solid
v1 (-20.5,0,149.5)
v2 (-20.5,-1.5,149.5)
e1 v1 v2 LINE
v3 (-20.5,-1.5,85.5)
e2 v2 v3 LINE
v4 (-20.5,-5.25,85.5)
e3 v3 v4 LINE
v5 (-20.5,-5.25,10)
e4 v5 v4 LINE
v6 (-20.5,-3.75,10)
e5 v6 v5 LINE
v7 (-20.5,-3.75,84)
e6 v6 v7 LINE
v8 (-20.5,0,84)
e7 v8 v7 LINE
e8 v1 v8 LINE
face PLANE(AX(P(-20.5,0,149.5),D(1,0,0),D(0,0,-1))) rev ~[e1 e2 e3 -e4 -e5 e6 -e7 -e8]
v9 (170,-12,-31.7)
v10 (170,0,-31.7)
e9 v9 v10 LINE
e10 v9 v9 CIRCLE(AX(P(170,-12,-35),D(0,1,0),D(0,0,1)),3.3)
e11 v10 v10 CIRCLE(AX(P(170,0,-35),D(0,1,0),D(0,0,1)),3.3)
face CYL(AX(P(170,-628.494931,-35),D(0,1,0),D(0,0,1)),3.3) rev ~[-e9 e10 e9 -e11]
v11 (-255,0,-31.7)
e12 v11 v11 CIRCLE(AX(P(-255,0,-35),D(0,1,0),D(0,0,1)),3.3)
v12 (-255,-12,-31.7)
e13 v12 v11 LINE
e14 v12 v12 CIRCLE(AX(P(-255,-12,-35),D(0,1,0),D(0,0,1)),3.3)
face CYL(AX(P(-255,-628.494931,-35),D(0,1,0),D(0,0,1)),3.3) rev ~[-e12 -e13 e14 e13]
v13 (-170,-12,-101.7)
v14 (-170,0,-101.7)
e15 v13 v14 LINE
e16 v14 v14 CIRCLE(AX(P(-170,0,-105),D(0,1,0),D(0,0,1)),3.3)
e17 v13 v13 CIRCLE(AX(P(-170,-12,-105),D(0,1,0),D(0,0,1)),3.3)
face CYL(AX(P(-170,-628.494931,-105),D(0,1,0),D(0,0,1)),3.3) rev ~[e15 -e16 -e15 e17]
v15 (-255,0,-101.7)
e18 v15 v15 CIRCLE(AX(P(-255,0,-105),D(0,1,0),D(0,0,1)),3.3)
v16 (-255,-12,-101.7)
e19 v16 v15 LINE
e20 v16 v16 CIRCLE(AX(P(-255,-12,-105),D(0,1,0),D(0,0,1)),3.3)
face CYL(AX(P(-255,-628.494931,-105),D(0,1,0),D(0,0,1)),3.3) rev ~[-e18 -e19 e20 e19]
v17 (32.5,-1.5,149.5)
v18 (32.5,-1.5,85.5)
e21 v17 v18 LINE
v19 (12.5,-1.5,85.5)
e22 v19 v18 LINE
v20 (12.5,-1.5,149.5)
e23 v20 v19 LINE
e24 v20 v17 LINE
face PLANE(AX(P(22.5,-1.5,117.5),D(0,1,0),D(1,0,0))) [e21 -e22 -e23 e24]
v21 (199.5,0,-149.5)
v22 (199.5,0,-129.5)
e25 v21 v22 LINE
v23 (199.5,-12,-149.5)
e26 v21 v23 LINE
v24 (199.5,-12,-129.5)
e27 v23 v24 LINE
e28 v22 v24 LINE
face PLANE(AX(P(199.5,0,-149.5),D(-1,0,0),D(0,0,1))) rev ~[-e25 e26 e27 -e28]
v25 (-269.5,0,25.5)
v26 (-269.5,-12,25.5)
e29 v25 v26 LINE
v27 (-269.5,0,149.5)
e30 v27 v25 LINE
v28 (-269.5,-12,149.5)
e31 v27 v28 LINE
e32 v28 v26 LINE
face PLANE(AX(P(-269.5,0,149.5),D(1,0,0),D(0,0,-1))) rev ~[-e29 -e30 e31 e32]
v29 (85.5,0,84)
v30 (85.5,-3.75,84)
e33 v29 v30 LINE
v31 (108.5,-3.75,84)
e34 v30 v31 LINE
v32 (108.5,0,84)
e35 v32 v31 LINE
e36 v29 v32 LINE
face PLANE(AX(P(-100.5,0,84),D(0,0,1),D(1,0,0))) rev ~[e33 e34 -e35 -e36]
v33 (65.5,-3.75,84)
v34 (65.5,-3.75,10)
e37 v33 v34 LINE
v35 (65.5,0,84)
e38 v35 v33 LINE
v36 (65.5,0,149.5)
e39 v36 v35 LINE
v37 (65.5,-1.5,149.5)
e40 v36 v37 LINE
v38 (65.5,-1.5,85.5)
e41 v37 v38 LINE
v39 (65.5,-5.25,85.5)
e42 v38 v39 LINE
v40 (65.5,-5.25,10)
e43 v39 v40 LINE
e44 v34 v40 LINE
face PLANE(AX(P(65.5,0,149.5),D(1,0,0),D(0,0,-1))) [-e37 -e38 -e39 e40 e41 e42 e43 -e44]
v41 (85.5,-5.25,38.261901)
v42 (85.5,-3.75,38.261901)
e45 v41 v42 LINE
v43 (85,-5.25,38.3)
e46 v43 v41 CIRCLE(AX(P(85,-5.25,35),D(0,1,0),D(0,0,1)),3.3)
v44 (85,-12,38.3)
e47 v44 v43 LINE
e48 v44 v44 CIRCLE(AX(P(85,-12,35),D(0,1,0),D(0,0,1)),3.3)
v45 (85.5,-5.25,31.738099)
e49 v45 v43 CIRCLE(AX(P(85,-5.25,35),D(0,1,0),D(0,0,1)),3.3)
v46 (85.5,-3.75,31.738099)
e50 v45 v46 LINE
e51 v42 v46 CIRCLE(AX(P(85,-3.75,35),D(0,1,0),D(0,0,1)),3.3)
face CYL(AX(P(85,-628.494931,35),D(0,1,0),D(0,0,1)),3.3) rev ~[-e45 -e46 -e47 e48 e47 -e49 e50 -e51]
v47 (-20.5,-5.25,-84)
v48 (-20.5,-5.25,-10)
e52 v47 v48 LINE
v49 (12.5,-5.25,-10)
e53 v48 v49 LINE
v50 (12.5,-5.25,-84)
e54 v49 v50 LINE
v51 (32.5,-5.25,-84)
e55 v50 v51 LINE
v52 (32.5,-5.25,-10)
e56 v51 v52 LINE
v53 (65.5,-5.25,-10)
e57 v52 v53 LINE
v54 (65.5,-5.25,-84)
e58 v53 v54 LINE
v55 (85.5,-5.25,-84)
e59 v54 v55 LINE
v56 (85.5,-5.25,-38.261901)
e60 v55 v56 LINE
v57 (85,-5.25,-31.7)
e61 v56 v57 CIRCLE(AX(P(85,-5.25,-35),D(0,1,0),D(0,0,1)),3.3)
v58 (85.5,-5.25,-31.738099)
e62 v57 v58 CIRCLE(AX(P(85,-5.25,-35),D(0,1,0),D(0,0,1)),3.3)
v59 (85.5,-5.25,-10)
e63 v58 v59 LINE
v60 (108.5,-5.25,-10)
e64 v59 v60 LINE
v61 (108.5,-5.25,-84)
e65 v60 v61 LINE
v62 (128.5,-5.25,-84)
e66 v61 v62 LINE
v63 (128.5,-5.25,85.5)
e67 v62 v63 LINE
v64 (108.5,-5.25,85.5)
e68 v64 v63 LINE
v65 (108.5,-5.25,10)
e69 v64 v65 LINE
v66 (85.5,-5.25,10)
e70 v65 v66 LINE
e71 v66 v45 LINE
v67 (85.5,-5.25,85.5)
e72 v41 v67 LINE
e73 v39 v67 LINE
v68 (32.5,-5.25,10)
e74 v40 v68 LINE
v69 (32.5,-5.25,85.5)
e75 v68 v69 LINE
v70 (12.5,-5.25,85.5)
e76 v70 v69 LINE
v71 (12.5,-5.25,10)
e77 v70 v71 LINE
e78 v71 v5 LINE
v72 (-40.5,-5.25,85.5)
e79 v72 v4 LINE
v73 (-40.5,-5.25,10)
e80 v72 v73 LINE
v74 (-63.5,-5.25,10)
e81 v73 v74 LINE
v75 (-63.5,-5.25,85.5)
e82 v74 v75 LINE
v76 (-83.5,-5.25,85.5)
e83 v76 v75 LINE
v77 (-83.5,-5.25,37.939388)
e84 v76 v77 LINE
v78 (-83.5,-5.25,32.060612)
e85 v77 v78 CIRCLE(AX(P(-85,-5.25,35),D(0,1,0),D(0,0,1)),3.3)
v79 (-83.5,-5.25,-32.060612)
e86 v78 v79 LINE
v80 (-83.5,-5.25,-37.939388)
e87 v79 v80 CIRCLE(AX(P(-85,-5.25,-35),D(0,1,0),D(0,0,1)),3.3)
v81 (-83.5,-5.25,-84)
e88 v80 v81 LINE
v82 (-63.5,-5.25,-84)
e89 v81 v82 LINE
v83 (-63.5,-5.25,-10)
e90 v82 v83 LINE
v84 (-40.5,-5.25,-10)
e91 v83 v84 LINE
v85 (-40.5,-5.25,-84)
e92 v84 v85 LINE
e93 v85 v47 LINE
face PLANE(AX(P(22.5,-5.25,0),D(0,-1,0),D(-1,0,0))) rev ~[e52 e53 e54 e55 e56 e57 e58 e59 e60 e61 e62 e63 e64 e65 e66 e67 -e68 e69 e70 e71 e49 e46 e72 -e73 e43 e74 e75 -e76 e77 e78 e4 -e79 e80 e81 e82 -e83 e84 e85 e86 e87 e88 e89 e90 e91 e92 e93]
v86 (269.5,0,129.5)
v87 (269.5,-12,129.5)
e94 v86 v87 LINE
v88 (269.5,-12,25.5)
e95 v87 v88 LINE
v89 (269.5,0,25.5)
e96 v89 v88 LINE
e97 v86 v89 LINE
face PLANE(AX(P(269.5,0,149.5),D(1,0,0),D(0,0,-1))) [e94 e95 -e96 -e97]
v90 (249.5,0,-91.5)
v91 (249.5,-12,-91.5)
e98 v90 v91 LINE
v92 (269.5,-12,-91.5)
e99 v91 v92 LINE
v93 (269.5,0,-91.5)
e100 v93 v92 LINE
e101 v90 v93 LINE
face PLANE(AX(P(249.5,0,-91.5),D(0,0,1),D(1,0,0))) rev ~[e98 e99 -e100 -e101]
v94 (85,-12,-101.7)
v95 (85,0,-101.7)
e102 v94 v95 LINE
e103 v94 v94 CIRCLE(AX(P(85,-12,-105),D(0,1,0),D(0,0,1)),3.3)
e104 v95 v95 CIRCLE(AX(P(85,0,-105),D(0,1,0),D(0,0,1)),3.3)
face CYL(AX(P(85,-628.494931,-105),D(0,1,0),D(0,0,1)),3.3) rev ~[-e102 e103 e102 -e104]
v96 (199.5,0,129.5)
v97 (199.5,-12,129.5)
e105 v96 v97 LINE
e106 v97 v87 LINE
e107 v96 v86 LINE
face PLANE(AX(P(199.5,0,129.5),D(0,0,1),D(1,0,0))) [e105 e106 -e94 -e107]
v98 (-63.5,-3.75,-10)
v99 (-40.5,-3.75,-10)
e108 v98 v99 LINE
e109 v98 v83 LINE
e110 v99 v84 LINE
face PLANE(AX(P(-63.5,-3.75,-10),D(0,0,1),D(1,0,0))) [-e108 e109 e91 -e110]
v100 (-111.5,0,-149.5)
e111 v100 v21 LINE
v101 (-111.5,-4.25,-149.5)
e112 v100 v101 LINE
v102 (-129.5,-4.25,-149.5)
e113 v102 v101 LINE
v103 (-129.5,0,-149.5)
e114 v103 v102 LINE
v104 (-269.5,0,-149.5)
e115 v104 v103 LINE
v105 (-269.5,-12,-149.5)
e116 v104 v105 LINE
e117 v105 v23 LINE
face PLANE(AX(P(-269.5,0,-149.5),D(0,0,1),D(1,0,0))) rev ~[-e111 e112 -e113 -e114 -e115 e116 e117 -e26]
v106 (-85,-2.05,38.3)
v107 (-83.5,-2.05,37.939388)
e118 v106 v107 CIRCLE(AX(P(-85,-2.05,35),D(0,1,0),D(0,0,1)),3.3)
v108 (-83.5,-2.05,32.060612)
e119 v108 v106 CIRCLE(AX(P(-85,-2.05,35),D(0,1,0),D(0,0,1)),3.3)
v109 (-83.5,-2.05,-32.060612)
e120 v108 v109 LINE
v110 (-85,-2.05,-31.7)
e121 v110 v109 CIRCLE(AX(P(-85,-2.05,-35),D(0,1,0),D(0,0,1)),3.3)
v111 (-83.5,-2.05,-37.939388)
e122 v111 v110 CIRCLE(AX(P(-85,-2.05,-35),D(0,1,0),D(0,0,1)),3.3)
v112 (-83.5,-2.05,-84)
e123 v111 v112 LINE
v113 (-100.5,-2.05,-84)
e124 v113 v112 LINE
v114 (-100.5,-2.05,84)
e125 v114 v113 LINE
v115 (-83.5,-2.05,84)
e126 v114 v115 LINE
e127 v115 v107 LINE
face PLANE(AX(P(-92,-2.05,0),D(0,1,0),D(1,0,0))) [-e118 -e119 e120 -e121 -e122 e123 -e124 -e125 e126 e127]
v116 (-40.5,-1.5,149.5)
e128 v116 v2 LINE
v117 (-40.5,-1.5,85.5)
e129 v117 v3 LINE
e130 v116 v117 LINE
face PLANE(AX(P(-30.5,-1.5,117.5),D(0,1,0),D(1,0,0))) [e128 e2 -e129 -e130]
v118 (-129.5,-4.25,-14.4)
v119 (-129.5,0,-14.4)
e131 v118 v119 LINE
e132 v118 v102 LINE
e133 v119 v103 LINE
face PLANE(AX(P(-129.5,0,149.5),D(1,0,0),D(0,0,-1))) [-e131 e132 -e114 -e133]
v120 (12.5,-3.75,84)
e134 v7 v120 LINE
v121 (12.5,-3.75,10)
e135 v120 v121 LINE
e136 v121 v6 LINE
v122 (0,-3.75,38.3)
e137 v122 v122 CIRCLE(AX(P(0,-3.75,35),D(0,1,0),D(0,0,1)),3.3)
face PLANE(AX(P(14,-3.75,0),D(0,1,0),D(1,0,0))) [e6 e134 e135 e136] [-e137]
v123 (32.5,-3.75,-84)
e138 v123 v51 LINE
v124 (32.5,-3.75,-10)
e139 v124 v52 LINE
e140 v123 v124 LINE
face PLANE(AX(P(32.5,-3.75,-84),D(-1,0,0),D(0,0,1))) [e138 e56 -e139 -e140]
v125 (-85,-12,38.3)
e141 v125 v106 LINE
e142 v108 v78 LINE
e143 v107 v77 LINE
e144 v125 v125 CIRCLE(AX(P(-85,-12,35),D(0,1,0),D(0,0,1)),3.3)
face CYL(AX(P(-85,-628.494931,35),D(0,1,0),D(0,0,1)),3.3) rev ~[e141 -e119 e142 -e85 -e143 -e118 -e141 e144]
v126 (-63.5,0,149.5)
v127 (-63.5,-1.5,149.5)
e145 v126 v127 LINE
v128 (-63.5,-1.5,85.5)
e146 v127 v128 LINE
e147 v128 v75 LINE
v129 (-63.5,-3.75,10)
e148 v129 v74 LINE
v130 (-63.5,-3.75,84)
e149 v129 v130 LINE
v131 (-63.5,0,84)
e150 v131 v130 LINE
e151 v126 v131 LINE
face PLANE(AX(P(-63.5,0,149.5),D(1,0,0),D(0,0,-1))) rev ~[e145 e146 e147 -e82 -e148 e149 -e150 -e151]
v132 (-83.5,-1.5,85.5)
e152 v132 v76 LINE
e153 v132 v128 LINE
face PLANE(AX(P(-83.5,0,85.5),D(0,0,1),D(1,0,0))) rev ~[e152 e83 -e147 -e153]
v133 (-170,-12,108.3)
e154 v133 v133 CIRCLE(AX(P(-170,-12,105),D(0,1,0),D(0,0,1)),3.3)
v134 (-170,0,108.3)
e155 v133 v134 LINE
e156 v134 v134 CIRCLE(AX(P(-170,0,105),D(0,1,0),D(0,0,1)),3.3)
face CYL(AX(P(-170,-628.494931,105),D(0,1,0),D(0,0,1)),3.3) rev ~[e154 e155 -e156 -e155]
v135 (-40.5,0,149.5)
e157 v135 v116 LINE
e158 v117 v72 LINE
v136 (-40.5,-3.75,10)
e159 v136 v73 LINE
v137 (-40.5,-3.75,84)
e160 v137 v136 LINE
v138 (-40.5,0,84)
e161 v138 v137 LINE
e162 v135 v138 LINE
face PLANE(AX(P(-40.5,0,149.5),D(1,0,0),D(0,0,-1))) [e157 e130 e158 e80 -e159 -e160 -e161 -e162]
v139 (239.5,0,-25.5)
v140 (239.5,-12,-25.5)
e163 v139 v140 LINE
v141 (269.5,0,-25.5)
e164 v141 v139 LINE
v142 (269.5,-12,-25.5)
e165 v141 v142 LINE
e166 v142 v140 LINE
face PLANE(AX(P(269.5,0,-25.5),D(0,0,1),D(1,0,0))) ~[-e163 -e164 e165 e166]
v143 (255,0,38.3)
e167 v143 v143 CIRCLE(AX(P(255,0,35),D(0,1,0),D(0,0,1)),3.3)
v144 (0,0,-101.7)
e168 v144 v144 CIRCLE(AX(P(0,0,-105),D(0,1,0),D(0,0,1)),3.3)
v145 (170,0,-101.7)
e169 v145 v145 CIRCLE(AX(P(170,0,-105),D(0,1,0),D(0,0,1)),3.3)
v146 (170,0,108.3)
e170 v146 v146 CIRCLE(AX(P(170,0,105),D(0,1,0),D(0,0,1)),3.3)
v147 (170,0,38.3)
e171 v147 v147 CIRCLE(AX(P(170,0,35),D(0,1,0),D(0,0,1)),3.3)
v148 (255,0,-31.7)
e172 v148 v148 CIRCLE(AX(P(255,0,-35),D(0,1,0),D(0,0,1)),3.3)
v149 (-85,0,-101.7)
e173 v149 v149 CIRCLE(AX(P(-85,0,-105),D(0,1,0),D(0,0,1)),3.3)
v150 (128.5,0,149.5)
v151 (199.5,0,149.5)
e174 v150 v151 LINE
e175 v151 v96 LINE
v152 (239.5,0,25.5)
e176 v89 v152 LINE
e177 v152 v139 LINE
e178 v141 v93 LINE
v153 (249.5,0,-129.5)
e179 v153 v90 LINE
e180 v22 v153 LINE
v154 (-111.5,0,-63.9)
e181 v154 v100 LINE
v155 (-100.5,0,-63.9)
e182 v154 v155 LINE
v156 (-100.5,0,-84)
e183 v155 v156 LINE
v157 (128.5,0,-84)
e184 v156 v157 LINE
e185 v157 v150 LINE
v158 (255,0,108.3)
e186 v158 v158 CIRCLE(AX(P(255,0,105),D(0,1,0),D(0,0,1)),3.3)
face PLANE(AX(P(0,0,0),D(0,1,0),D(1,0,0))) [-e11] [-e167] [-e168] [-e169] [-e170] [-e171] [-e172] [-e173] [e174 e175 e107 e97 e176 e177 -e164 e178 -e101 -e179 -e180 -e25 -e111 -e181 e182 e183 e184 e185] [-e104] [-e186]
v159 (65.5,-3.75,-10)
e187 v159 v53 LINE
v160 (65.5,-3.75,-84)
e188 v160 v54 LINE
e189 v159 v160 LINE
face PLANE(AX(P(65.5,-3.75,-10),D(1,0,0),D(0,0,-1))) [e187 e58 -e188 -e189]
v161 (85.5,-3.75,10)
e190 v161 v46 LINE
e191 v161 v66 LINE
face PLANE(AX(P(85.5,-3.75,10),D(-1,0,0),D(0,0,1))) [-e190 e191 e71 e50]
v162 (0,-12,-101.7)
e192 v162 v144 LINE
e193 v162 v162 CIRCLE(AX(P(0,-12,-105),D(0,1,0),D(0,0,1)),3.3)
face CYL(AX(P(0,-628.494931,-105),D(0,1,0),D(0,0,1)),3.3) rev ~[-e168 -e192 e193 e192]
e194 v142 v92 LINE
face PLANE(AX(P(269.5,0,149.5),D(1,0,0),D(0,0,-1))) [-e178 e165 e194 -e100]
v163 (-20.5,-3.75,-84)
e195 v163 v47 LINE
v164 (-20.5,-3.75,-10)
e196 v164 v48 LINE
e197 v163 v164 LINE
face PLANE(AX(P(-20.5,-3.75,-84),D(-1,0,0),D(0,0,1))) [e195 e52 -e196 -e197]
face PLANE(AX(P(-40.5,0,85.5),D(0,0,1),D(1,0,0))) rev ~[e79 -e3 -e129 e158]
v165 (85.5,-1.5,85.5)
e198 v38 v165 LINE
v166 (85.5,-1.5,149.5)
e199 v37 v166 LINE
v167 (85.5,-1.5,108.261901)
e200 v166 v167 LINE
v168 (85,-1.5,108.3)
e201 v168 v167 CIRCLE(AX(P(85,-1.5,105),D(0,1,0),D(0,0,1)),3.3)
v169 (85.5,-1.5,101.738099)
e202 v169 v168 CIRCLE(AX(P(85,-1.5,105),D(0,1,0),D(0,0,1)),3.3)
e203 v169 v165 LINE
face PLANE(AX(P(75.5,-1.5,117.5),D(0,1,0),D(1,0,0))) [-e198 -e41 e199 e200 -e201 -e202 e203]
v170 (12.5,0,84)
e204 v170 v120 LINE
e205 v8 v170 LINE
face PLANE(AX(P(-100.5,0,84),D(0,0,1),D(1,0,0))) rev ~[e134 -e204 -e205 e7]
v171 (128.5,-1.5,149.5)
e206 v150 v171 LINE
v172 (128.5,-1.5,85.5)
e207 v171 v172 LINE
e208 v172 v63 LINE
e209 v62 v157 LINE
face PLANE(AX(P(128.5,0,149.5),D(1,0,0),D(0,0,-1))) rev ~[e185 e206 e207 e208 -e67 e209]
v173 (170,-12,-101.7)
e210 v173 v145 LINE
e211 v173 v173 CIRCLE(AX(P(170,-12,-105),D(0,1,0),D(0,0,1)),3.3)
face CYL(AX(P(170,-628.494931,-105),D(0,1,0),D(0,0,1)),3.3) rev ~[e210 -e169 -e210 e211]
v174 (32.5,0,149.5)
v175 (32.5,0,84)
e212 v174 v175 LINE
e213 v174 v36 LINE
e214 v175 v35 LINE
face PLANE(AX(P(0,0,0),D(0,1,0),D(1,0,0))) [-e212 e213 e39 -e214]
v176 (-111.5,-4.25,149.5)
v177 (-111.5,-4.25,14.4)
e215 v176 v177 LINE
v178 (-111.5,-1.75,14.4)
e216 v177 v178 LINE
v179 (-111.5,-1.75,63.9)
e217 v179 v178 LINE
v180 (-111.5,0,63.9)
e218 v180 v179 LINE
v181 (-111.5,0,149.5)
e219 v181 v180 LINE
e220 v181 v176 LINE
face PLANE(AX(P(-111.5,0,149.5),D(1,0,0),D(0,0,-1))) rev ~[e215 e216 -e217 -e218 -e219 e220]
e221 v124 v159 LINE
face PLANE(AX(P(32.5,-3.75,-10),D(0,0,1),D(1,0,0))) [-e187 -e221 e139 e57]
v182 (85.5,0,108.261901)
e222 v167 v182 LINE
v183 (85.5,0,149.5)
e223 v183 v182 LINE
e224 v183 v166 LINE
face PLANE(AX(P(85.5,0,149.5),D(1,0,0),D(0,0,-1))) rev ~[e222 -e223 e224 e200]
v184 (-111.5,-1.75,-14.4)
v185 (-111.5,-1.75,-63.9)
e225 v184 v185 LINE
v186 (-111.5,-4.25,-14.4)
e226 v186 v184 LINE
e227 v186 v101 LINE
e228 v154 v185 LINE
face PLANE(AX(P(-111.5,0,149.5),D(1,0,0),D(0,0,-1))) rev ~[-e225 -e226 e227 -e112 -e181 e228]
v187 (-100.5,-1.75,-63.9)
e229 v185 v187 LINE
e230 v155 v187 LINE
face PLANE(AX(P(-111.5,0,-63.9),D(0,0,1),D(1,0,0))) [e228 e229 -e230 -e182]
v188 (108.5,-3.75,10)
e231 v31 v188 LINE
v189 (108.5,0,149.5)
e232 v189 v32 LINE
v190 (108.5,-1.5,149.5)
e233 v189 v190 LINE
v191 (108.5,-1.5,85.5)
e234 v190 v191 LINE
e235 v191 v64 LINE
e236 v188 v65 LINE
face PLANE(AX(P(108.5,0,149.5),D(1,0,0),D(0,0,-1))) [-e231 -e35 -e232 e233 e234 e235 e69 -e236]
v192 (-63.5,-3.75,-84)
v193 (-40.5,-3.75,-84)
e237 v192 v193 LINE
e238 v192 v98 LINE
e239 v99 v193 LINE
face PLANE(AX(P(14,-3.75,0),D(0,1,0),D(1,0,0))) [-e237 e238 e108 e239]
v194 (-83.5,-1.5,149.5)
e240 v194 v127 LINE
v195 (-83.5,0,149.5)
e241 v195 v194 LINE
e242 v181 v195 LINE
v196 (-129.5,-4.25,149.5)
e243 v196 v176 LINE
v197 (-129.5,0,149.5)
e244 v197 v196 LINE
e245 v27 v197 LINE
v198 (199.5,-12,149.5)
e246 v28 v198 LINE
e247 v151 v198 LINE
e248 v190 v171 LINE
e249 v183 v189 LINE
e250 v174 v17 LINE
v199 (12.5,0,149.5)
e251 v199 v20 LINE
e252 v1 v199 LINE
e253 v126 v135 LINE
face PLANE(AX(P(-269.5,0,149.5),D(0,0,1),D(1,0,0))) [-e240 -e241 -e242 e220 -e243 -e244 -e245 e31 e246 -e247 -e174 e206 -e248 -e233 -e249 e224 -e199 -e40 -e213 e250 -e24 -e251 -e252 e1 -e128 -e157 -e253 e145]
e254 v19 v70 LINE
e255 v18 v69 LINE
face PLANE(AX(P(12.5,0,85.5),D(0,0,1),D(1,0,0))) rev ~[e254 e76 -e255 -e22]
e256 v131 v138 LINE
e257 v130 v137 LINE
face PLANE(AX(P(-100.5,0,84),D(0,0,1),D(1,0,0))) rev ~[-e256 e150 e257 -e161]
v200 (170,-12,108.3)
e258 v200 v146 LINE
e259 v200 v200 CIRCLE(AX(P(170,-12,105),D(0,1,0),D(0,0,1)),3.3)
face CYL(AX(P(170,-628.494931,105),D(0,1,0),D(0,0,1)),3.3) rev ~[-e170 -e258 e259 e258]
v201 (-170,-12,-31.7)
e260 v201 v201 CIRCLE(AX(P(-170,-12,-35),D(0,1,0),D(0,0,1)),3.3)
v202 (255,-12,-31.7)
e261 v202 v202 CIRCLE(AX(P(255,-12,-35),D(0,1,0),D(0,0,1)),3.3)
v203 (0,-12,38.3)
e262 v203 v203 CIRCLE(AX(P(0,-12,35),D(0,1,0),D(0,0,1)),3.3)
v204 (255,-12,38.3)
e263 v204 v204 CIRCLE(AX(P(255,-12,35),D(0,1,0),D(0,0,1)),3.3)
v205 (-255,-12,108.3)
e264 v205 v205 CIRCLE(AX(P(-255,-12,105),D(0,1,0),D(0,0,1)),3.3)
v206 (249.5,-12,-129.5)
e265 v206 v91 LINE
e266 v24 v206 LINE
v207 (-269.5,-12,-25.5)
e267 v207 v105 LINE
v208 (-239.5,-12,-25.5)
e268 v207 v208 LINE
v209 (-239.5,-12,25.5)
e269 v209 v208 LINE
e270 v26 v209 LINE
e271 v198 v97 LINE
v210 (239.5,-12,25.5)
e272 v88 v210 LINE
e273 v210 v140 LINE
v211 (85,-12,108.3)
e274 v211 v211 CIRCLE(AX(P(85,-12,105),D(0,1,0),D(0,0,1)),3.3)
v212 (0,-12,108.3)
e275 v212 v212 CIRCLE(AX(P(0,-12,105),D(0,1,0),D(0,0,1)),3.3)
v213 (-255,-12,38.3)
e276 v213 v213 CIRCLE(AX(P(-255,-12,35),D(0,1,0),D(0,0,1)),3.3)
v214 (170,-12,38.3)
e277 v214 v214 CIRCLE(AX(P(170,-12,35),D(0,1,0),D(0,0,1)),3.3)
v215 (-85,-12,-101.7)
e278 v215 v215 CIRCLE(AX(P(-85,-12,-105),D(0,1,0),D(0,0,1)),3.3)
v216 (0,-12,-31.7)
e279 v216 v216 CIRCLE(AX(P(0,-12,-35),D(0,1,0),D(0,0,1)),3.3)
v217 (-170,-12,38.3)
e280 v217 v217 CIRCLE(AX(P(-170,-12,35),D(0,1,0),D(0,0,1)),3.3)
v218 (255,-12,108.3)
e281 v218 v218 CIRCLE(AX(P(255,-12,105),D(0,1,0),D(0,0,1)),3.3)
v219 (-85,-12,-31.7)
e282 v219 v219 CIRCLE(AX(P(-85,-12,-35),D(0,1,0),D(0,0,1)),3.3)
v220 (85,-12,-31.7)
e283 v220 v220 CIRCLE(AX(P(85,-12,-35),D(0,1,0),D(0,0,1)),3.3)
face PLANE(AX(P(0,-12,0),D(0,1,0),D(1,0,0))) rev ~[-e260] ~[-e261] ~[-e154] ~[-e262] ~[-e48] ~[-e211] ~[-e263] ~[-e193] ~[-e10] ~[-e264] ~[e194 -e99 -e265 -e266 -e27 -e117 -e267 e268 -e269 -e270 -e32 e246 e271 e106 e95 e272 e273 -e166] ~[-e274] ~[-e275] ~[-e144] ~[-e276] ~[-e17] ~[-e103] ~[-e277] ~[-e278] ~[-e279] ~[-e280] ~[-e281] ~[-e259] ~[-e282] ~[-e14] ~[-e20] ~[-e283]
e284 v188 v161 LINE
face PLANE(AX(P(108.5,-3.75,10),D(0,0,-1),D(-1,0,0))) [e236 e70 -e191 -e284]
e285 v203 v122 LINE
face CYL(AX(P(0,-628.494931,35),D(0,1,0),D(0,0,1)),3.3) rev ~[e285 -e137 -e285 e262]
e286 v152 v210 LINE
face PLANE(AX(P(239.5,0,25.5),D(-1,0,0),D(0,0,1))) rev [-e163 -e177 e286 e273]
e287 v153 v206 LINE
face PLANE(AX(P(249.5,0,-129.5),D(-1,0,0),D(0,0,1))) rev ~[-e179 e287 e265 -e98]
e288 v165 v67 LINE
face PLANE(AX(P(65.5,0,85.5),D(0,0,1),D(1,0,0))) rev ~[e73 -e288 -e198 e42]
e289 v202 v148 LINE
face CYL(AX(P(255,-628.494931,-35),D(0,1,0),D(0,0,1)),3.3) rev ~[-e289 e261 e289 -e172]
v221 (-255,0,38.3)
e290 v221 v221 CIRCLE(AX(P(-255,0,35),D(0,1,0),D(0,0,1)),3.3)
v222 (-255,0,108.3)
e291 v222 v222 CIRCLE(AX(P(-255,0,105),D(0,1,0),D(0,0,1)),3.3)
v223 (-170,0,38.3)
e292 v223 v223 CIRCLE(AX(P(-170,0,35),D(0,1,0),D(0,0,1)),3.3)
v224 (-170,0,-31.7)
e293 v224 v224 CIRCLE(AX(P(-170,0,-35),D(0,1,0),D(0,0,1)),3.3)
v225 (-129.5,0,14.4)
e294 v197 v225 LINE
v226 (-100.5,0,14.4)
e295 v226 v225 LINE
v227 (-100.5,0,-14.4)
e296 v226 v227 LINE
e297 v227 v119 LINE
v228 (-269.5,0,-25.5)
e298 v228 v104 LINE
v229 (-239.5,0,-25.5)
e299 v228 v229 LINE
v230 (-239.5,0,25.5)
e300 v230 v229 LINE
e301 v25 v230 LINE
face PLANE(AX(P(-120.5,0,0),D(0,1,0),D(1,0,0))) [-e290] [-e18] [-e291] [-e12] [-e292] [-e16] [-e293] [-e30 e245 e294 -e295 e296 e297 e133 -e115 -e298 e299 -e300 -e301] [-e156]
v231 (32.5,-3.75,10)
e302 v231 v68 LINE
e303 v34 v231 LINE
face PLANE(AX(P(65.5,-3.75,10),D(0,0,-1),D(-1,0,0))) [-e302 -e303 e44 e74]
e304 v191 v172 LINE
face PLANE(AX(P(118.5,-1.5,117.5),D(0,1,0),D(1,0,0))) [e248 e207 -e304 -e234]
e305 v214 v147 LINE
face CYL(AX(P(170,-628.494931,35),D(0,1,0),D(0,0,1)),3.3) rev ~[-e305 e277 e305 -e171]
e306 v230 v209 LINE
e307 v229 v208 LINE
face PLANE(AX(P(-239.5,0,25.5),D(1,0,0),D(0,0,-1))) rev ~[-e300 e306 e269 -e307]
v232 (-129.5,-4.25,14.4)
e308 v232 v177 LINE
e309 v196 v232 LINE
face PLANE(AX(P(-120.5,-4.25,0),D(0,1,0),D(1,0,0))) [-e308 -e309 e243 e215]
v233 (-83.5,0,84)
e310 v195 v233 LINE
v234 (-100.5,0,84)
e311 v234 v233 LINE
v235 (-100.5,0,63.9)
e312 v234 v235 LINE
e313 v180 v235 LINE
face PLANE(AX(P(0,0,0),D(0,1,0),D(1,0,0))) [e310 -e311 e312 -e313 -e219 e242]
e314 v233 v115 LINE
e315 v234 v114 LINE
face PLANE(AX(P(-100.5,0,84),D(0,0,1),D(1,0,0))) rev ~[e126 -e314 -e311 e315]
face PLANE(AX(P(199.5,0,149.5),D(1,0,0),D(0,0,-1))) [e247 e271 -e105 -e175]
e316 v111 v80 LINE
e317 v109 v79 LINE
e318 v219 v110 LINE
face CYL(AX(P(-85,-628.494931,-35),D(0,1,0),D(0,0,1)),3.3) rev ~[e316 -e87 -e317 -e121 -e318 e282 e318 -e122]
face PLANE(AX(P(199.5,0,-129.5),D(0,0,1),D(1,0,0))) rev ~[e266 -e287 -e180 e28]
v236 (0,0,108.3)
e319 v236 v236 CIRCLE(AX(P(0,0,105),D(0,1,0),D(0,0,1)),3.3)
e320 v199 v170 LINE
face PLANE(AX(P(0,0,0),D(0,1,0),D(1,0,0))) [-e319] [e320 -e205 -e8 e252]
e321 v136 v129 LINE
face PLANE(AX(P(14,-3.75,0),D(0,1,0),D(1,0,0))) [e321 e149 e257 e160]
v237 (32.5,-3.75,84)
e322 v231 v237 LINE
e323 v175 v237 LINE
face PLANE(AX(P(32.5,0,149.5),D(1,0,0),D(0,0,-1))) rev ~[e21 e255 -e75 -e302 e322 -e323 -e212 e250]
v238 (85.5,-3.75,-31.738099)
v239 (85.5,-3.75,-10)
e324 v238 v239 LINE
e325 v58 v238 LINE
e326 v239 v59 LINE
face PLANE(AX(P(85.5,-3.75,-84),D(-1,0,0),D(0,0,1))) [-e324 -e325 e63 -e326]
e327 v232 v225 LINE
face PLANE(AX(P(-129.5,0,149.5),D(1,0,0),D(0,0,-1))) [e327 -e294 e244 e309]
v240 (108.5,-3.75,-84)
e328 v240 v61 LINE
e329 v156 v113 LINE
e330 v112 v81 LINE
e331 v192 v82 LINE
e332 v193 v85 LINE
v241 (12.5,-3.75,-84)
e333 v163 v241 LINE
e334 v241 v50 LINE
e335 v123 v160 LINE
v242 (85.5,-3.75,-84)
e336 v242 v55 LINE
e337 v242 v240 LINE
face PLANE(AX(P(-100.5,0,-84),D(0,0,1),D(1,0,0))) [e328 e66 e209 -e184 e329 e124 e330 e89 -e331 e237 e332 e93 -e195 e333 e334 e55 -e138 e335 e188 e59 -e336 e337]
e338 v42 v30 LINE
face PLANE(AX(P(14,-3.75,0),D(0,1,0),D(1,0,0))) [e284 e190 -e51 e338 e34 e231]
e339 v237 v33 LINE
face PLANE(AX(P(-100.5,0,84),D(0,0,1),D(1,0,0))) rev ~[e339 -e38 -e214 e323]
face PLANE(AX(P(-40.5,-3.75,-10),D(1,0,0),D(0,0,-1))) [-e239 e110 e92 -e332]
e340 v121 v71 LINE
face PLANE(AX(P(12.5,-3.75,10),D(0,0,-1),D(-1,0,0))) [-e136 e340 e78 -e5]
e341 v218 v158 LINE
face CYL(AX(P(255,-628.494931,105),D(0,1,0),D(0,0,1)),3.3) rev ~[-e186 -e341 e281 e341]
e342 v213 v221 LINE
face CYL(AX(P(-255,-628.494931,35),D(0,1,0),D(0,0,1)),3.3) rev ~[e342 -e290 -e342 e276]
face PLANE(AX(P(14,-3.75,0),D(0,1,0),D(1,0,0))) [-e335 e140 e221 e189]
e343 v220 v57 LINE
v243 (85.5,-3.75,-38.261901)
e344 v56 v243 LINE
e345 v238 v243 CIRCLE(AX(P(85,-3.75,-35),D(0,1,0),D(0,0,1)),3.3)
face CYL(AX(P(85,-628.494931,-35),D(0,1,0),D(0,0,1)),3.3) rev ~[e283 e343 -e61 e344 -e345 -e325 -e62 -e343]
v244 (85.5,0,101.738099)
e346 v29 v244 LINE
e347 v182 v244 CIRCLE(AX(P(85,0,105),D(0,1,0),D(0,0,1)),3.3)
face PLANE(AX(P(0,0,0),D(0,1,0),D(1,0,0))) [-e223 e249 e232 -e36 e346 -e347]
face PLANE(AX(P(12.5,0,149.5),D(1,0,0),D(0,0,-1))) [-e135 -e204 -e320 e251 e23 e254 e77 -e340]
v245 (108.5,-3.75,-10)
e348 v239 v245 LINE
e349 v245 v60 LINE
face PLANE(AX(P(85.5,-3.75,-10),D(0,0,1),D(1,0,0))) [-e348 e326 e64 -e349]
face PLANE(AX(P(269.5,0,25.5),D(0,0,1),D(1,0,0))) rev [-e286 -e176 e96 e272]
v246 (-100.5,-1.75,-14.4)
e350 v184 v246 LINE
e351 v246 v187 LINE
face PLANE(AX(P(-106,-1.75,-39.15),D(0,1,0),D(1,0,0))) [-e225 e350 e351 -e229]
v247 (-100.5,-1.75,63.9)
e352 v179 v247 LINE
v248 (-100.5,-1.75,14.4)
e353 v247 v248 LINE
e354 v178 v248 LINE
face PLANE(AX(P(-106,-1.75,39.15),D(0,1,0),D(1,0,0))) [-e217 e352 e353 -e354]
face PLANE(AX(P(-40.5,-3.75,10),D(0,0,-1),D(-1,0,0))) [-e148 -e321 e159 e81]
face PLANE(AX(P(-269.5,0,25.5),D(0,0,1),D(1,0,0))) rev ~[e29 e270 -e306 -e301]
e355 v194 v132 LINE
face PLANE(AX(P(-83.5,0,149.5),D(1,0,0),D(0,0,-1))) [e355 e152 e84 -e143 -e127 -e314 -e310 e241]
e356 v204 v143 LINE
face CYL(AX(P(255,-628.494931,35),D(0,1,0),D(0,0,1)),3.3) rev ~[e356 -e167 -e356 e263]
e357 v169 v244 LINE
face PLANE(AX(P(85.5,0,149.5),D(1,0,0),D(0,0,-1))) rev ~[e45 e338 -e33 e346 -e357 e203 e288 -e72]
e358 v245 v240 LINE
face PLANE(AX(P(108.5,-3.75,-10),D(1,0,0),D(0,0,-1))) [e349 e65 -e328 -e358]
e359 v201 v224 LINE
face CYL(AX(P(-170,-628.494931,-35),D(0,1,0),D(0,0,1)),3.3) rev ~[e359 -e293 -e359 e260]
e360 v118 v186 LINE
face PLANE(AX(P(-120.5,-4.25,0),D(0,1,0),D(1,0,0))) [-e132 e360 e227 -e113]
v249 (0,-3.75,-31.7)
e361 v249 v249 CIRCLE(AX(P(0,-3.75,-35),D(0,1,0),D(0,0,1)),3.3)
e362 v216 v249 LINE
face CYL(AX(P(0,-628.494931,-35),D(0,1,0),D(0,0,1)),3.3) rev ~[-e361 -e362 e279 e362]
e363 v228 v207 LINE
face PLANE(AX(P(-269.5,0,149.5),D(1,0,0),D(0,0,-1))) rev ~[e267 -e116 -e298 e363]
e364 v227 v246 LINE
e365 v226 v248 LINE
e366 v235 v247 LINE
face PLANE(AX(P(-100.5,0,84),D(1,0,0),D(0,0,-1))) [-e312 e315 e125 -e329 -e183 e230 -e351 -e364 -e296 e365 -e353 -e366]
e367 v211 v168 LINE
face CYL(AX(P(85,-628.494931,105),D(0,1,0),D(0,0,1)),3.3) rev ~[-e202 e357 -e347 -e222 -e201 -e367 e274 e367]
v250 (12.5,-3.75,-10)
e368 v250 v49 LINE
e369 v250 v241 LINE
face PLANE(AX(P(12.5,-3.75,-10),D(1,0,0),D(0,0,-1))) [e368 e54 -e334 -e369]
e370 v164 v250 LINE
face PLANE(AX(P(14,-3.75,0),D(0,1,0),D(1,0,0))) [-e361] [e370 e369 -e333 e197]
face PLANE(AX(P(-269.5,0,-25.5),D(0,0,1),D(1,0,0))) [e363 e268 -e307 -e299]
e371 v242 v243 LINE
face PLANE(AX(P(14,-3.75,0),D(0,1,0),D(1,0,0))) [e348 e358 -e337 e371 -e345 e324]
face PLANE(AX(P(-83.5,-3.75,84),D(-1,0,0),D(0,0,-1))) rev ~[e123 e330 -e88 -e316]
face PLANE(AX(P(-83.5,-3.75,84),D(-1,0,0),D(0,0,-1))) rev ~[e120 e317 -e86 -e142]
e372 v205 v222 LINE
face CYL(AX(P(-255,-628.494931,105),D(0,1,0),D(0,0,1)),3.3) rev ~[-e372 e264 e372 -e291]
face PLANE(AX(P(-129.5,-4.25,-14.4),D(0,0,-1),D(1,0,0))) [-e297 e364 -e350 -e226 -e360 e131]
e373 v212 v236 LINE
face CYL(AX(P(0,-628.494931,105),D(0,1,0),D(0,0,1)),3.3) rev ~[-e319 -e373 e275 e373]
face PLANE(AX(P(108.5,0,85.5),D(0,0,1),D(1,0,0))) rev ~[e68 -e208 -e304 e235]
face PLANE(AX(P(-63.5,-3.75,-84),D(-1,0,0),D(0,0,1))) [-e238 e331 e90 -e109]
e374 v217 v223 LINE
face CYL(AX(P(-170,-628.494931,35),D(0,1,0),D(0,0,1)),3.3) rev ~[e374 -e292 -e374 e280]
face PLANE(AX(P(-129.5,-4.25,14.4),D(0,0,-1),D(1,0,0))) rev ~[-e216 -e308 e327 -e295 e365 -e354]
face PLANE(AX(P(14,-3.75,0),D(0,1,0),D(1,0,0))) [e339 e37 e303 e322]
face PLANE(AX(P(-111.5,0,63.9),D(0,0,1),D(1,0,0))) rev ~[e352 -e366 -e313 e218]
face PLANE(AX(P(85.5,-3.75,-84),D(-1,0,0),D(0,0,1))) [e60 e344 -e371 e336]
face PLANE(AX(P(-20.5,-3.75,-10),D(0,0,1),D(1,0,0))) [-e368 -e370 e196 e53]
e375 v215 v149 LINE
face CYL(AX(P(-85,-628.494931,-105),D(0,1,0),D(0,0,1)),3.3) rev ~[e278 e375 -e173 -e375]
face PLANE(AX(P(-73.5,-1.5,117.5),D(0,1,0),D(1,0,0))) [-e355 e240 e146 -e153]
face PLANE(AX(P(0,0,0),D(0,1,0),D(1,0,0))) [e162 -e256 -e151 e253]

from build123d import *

# Parameters (mm, degrees)
SKETCH1_W            = 539
SKETCH1_H            = 299
BOSS_EXTRUDE1_DEPTH  = 12
SKETCH15_W           = 70
SKETCH15_H           = 20
CUT_EXTRUDE8_DEPTH   = 309.422599691
SKETCH2_W            = 30
SKETCH2_H            = 51
CUT_EXTRUDE1_DEPTH   = 309.422599691
SKETCH4_W            = 229
SKETCH4_H            = 168
CUT_EXTRUDE2_DEPTH   = 3.75
SKETCH5_W            = 18
SKETCH5_H            = 299
CUT_EXTRUDE3_DEPTH   = 4.25
SKETCH6_W            = 11
SKETCH6_H            = 49.5
CUT_EXTRUDE4_DEPTH   = 1.75
SKETCH7_W            = 17
SKETCH7_H            = 168
BOSS_EXTRUDE3_DEPTH  = 1.7
M6_CLEARANCE_HOLE1_D = 6.6
SKETCH10_W           = 18
SKETCH10_H           = 28.8
BOSS_EXTRUDE4_DEPTH  = 4.25
CUT_EXTRUDE5_DEPTH   = 1.5
SKETCH13_W           = 20
SKETCH13_H           = 1.5
CUT_EXTRUDE6_DEPTH   = 5.25
SKETCH14_W           = 20
SKETCH14_H           = 64
CUT_EXTRUDE7_DEPTH   = 1.5


with BuildPart() as part:
    # Sketch1 → Boss-Extrude1 (new body)
    with BuildSketch(Plane(origin=(0, 0, 0), x_dir=(1, 0, 0), z_dir=(0, 1, 0))):
        Rectangle(SKETCH1_W, SKETCH1_H)
    extrude(amount=-BOSS_EXTRUDE1_DEPTH)

    # Sketch15 → Cut-Extrude8 (cut, through all)
    with BuildSketch(Plane(origin=(0, 0, 0), x_dir=(1, 0, 0), z_dir=(0, 1, 0))):
        Polygon((269.5, 149.5), (199.5, 149.5), (199.5, 129.5), (249.5, 129.5), (249.5, 91.5), (269.5, 91.5), align=None)
        with Locations((234.5, -139.5)):
            Rectangle(SKETCH15_W, SKETCH15_H)
    extrude(amount=-CUT_EXTRUDE8_DEPTH, mode=Mode.SUBTRACT)

    # Sketch2 → Cut-Extrude1 (cut, through all)
    with BuildSketch(Plane(origin=(0, 0, 0), x_dir=(1, 0, 0), z_dir=(0, 1, 0))):
        with Locations((-254.5, 0)):
            Rectangle(SKETCH2_W, SKETCH2_H)
    cut_extrude1 = extrude(amount=-CUT_EXTRUDE1_DEPTH, mode=Mode.SUBTRACT)

    # Mirror1: Cut-Extrude1 across plane
    add(cut_extrude1.mirror(Plane(origin=(0, 0, 0), x_dir=(0, 0, 1), z_dir=(1, 0, 0))), mode=Mode.SUBTRACT)

    # Sketch4 → Cut-Extrude2 (cut)
    with BuildSketch(Plane(origin=(0, 0, 0), x_dir=(1, 0, 0), z_dir=(0, 1, 0))):
        with Locations((14, 0)):
            Rectangle(SKETCH4_W, SKETCH4_H)
    extrude(amount=-CUT_EXTRUDE2_DEPTH, mode=Mode.SUBTRACT)

    # Sketch5 → Cut-Extrude3 (cut)
    with BuildSketch(Plane(origin=(0, 0, 0), x_dir=(1, 0, 0), z_dir=(0, 1, 0))):
        with Locations((-120.5, 0)):
            Rectangle(SKETCH5_W, SKETCH5_H)
    extrude(amount=-CUT_EXTRUDE3_DEPTH, mode=Mode.SUBTRACT)

    # Sketch6 → Cut-Extrude4 (cut)
    with BuildSketch(Plane(origin=(0, 0, 0), x_dir=(1, 0, 0), z_dir=(0, 1, 0))):
        with Locations((-106, 39.15)):
            Rectangle(SKETCH6_W, SKETCH6_H)
        with Locations((-106, -39.15)):
            Rectangle(SKETCH6_W, SKETCH6_H)
    extrude(amount=-CUT_EXTRUDE4_DEPTH, mode=Mode.SUBTRACT)

    # Sketch7 → Boss-Extrude3 (add)
    with BuildSketch(Plane(origin=(0, -3.75, 0), x_dir=(1, 0, 0), z_dir=(0, 1, 0))):
        with Locations((-92, 0)):
            Rectangle(SKETCH7_W, SKETCH7_H)
    extrude(amount=BOSS_EXTRUDE3_DEPTH)

    # M6 Clearance Hole1 (through all)
    with Locations(Plane(origin=(-255, -12, 105), x_dir=(0, 0, -1), z_dir=(0, -1, 0))):
        with Locations((0, 0), (70, 0), (210, 0), (140, 0), (210, 85), (140, 85), (70, 85), (0, 85), (0, 255), (0, 340), (0, 425), (0, 510), (70, 510), (70, 425), (70, 340), (70, 255), (70, 170), (140, 170), (140, 255), (140, 340), (140, 425), (140, 510), (210, 425), (210, 340), (210, 255), (210, 170)):
            Hole(M6_CLEARANCE_HOLE1_D / 2)

    # Sketch10 → Boss-Extrude4 (add)
    with BuildSketch(Plane(origin=(0, -4.25, 0), x_dir=(1, 0, 0), z_dir=(0, 1, 0))):
        with Locations((-120.5, 0)):
            Rectangle(SKETCH10_W, SKETCH10_H)
    extrude(amount=BOSS_EXTRUDE4_DEPTH)

    # Sketch12 → Cut-Extrude5 (cut)
    with BuildSketch(Plane(origin=(0, -3.75, 0), x_dir=(1, 0, 0), z_dir=(0, 1, 0))):
        Polygon((32.5, -10), (32.5, -84), (12.5, -84), (12.5, -10), (-20.5, -10), (-20.5, -84), (-40.5, -84), (-40.5, -10), (-63.5, -10), (-63.5, -84), (-83.5, -84), (-83.5, 84), (-63.5, 84), (-63.5, 10), (-40.5, 10), (-40.5, 84), (-20.5, 84), (-20.5, 10), (12.5, 10), (12.5, 84), (32.5, 84), (32.5, 10), (65.5, 10), (65.5, 84), (85.5, 84), (85.5, 10), (108.5, 10), (108.5, 84), (128.5, 84), (128.5, -84), (108.5, -84), (108.5, -10), (85.5, -10), (85.5, -84), (65.5, -84), (65.5, -10), align=None)
    extrude(amount=-CUT_EXTRUDE5_DEPTH, mode=Mode.SUBTRACT)

    # Sketch13 → Cut-Extrude6 (cut)
    with BuildSketch(Plane(origin=(0, 0, 0), x_dir=(1, 0, 0), z_dir=(0, 1, 0))):
        with Locations((-73.5, -84.75)):
            Rectangle(SKETCH13_W, SKETCH13_H)
        with Locations((-30.5, -84.75)):
            Rectangle(SKETCH13_W, SKETCH13_H)
        with Locations((22.5, -84.75)):
            Rectangle(SKETCH13_W, SKETCH13_H)
        with Locations((75.5, -84.75)):
            Rectangle(SKETCH13_W, SKETCH13_H)
        with Locations((118.5, -84.75)):
            Rectangle(SKETCH13_W, SKETCH13_H)
    extrude(amount=-CUT_EXTRUDE6_DEPTH, mode=Mode.SUBTRACT)

    # Sketch14 → Cut-Extrude7 (cut)
    with BuildSketch(Plane(origin=(0, 0, 0), x_dir=(1, 0, 0), z_dir=(0, 1, 0))):
        with Locations((-73.5, -117.5)):
            Rectangle(SKETCH14_W, SKETCH14_H)
        with Locations((-30.5, -117.5)):
            Rectangle(SKETCH14_W, SKETCH14_H)
        with Locations((22.5, -117.5)):
            Rectangle(SKETCH14_W, SKETCH14_H)
        with Locations((75.5, -117.5)):
            Rectangle(SKETCH14_W, SKETCH14_H)
        with Locations((118.5, -117.5)):
            Rectangle(SKETCH14_W, SKETCH14_H)
    extrude(amount=-CUT_EXTRUDE7_DEPTH, mode=Mode.SUBTRACT)


solid = part.part
